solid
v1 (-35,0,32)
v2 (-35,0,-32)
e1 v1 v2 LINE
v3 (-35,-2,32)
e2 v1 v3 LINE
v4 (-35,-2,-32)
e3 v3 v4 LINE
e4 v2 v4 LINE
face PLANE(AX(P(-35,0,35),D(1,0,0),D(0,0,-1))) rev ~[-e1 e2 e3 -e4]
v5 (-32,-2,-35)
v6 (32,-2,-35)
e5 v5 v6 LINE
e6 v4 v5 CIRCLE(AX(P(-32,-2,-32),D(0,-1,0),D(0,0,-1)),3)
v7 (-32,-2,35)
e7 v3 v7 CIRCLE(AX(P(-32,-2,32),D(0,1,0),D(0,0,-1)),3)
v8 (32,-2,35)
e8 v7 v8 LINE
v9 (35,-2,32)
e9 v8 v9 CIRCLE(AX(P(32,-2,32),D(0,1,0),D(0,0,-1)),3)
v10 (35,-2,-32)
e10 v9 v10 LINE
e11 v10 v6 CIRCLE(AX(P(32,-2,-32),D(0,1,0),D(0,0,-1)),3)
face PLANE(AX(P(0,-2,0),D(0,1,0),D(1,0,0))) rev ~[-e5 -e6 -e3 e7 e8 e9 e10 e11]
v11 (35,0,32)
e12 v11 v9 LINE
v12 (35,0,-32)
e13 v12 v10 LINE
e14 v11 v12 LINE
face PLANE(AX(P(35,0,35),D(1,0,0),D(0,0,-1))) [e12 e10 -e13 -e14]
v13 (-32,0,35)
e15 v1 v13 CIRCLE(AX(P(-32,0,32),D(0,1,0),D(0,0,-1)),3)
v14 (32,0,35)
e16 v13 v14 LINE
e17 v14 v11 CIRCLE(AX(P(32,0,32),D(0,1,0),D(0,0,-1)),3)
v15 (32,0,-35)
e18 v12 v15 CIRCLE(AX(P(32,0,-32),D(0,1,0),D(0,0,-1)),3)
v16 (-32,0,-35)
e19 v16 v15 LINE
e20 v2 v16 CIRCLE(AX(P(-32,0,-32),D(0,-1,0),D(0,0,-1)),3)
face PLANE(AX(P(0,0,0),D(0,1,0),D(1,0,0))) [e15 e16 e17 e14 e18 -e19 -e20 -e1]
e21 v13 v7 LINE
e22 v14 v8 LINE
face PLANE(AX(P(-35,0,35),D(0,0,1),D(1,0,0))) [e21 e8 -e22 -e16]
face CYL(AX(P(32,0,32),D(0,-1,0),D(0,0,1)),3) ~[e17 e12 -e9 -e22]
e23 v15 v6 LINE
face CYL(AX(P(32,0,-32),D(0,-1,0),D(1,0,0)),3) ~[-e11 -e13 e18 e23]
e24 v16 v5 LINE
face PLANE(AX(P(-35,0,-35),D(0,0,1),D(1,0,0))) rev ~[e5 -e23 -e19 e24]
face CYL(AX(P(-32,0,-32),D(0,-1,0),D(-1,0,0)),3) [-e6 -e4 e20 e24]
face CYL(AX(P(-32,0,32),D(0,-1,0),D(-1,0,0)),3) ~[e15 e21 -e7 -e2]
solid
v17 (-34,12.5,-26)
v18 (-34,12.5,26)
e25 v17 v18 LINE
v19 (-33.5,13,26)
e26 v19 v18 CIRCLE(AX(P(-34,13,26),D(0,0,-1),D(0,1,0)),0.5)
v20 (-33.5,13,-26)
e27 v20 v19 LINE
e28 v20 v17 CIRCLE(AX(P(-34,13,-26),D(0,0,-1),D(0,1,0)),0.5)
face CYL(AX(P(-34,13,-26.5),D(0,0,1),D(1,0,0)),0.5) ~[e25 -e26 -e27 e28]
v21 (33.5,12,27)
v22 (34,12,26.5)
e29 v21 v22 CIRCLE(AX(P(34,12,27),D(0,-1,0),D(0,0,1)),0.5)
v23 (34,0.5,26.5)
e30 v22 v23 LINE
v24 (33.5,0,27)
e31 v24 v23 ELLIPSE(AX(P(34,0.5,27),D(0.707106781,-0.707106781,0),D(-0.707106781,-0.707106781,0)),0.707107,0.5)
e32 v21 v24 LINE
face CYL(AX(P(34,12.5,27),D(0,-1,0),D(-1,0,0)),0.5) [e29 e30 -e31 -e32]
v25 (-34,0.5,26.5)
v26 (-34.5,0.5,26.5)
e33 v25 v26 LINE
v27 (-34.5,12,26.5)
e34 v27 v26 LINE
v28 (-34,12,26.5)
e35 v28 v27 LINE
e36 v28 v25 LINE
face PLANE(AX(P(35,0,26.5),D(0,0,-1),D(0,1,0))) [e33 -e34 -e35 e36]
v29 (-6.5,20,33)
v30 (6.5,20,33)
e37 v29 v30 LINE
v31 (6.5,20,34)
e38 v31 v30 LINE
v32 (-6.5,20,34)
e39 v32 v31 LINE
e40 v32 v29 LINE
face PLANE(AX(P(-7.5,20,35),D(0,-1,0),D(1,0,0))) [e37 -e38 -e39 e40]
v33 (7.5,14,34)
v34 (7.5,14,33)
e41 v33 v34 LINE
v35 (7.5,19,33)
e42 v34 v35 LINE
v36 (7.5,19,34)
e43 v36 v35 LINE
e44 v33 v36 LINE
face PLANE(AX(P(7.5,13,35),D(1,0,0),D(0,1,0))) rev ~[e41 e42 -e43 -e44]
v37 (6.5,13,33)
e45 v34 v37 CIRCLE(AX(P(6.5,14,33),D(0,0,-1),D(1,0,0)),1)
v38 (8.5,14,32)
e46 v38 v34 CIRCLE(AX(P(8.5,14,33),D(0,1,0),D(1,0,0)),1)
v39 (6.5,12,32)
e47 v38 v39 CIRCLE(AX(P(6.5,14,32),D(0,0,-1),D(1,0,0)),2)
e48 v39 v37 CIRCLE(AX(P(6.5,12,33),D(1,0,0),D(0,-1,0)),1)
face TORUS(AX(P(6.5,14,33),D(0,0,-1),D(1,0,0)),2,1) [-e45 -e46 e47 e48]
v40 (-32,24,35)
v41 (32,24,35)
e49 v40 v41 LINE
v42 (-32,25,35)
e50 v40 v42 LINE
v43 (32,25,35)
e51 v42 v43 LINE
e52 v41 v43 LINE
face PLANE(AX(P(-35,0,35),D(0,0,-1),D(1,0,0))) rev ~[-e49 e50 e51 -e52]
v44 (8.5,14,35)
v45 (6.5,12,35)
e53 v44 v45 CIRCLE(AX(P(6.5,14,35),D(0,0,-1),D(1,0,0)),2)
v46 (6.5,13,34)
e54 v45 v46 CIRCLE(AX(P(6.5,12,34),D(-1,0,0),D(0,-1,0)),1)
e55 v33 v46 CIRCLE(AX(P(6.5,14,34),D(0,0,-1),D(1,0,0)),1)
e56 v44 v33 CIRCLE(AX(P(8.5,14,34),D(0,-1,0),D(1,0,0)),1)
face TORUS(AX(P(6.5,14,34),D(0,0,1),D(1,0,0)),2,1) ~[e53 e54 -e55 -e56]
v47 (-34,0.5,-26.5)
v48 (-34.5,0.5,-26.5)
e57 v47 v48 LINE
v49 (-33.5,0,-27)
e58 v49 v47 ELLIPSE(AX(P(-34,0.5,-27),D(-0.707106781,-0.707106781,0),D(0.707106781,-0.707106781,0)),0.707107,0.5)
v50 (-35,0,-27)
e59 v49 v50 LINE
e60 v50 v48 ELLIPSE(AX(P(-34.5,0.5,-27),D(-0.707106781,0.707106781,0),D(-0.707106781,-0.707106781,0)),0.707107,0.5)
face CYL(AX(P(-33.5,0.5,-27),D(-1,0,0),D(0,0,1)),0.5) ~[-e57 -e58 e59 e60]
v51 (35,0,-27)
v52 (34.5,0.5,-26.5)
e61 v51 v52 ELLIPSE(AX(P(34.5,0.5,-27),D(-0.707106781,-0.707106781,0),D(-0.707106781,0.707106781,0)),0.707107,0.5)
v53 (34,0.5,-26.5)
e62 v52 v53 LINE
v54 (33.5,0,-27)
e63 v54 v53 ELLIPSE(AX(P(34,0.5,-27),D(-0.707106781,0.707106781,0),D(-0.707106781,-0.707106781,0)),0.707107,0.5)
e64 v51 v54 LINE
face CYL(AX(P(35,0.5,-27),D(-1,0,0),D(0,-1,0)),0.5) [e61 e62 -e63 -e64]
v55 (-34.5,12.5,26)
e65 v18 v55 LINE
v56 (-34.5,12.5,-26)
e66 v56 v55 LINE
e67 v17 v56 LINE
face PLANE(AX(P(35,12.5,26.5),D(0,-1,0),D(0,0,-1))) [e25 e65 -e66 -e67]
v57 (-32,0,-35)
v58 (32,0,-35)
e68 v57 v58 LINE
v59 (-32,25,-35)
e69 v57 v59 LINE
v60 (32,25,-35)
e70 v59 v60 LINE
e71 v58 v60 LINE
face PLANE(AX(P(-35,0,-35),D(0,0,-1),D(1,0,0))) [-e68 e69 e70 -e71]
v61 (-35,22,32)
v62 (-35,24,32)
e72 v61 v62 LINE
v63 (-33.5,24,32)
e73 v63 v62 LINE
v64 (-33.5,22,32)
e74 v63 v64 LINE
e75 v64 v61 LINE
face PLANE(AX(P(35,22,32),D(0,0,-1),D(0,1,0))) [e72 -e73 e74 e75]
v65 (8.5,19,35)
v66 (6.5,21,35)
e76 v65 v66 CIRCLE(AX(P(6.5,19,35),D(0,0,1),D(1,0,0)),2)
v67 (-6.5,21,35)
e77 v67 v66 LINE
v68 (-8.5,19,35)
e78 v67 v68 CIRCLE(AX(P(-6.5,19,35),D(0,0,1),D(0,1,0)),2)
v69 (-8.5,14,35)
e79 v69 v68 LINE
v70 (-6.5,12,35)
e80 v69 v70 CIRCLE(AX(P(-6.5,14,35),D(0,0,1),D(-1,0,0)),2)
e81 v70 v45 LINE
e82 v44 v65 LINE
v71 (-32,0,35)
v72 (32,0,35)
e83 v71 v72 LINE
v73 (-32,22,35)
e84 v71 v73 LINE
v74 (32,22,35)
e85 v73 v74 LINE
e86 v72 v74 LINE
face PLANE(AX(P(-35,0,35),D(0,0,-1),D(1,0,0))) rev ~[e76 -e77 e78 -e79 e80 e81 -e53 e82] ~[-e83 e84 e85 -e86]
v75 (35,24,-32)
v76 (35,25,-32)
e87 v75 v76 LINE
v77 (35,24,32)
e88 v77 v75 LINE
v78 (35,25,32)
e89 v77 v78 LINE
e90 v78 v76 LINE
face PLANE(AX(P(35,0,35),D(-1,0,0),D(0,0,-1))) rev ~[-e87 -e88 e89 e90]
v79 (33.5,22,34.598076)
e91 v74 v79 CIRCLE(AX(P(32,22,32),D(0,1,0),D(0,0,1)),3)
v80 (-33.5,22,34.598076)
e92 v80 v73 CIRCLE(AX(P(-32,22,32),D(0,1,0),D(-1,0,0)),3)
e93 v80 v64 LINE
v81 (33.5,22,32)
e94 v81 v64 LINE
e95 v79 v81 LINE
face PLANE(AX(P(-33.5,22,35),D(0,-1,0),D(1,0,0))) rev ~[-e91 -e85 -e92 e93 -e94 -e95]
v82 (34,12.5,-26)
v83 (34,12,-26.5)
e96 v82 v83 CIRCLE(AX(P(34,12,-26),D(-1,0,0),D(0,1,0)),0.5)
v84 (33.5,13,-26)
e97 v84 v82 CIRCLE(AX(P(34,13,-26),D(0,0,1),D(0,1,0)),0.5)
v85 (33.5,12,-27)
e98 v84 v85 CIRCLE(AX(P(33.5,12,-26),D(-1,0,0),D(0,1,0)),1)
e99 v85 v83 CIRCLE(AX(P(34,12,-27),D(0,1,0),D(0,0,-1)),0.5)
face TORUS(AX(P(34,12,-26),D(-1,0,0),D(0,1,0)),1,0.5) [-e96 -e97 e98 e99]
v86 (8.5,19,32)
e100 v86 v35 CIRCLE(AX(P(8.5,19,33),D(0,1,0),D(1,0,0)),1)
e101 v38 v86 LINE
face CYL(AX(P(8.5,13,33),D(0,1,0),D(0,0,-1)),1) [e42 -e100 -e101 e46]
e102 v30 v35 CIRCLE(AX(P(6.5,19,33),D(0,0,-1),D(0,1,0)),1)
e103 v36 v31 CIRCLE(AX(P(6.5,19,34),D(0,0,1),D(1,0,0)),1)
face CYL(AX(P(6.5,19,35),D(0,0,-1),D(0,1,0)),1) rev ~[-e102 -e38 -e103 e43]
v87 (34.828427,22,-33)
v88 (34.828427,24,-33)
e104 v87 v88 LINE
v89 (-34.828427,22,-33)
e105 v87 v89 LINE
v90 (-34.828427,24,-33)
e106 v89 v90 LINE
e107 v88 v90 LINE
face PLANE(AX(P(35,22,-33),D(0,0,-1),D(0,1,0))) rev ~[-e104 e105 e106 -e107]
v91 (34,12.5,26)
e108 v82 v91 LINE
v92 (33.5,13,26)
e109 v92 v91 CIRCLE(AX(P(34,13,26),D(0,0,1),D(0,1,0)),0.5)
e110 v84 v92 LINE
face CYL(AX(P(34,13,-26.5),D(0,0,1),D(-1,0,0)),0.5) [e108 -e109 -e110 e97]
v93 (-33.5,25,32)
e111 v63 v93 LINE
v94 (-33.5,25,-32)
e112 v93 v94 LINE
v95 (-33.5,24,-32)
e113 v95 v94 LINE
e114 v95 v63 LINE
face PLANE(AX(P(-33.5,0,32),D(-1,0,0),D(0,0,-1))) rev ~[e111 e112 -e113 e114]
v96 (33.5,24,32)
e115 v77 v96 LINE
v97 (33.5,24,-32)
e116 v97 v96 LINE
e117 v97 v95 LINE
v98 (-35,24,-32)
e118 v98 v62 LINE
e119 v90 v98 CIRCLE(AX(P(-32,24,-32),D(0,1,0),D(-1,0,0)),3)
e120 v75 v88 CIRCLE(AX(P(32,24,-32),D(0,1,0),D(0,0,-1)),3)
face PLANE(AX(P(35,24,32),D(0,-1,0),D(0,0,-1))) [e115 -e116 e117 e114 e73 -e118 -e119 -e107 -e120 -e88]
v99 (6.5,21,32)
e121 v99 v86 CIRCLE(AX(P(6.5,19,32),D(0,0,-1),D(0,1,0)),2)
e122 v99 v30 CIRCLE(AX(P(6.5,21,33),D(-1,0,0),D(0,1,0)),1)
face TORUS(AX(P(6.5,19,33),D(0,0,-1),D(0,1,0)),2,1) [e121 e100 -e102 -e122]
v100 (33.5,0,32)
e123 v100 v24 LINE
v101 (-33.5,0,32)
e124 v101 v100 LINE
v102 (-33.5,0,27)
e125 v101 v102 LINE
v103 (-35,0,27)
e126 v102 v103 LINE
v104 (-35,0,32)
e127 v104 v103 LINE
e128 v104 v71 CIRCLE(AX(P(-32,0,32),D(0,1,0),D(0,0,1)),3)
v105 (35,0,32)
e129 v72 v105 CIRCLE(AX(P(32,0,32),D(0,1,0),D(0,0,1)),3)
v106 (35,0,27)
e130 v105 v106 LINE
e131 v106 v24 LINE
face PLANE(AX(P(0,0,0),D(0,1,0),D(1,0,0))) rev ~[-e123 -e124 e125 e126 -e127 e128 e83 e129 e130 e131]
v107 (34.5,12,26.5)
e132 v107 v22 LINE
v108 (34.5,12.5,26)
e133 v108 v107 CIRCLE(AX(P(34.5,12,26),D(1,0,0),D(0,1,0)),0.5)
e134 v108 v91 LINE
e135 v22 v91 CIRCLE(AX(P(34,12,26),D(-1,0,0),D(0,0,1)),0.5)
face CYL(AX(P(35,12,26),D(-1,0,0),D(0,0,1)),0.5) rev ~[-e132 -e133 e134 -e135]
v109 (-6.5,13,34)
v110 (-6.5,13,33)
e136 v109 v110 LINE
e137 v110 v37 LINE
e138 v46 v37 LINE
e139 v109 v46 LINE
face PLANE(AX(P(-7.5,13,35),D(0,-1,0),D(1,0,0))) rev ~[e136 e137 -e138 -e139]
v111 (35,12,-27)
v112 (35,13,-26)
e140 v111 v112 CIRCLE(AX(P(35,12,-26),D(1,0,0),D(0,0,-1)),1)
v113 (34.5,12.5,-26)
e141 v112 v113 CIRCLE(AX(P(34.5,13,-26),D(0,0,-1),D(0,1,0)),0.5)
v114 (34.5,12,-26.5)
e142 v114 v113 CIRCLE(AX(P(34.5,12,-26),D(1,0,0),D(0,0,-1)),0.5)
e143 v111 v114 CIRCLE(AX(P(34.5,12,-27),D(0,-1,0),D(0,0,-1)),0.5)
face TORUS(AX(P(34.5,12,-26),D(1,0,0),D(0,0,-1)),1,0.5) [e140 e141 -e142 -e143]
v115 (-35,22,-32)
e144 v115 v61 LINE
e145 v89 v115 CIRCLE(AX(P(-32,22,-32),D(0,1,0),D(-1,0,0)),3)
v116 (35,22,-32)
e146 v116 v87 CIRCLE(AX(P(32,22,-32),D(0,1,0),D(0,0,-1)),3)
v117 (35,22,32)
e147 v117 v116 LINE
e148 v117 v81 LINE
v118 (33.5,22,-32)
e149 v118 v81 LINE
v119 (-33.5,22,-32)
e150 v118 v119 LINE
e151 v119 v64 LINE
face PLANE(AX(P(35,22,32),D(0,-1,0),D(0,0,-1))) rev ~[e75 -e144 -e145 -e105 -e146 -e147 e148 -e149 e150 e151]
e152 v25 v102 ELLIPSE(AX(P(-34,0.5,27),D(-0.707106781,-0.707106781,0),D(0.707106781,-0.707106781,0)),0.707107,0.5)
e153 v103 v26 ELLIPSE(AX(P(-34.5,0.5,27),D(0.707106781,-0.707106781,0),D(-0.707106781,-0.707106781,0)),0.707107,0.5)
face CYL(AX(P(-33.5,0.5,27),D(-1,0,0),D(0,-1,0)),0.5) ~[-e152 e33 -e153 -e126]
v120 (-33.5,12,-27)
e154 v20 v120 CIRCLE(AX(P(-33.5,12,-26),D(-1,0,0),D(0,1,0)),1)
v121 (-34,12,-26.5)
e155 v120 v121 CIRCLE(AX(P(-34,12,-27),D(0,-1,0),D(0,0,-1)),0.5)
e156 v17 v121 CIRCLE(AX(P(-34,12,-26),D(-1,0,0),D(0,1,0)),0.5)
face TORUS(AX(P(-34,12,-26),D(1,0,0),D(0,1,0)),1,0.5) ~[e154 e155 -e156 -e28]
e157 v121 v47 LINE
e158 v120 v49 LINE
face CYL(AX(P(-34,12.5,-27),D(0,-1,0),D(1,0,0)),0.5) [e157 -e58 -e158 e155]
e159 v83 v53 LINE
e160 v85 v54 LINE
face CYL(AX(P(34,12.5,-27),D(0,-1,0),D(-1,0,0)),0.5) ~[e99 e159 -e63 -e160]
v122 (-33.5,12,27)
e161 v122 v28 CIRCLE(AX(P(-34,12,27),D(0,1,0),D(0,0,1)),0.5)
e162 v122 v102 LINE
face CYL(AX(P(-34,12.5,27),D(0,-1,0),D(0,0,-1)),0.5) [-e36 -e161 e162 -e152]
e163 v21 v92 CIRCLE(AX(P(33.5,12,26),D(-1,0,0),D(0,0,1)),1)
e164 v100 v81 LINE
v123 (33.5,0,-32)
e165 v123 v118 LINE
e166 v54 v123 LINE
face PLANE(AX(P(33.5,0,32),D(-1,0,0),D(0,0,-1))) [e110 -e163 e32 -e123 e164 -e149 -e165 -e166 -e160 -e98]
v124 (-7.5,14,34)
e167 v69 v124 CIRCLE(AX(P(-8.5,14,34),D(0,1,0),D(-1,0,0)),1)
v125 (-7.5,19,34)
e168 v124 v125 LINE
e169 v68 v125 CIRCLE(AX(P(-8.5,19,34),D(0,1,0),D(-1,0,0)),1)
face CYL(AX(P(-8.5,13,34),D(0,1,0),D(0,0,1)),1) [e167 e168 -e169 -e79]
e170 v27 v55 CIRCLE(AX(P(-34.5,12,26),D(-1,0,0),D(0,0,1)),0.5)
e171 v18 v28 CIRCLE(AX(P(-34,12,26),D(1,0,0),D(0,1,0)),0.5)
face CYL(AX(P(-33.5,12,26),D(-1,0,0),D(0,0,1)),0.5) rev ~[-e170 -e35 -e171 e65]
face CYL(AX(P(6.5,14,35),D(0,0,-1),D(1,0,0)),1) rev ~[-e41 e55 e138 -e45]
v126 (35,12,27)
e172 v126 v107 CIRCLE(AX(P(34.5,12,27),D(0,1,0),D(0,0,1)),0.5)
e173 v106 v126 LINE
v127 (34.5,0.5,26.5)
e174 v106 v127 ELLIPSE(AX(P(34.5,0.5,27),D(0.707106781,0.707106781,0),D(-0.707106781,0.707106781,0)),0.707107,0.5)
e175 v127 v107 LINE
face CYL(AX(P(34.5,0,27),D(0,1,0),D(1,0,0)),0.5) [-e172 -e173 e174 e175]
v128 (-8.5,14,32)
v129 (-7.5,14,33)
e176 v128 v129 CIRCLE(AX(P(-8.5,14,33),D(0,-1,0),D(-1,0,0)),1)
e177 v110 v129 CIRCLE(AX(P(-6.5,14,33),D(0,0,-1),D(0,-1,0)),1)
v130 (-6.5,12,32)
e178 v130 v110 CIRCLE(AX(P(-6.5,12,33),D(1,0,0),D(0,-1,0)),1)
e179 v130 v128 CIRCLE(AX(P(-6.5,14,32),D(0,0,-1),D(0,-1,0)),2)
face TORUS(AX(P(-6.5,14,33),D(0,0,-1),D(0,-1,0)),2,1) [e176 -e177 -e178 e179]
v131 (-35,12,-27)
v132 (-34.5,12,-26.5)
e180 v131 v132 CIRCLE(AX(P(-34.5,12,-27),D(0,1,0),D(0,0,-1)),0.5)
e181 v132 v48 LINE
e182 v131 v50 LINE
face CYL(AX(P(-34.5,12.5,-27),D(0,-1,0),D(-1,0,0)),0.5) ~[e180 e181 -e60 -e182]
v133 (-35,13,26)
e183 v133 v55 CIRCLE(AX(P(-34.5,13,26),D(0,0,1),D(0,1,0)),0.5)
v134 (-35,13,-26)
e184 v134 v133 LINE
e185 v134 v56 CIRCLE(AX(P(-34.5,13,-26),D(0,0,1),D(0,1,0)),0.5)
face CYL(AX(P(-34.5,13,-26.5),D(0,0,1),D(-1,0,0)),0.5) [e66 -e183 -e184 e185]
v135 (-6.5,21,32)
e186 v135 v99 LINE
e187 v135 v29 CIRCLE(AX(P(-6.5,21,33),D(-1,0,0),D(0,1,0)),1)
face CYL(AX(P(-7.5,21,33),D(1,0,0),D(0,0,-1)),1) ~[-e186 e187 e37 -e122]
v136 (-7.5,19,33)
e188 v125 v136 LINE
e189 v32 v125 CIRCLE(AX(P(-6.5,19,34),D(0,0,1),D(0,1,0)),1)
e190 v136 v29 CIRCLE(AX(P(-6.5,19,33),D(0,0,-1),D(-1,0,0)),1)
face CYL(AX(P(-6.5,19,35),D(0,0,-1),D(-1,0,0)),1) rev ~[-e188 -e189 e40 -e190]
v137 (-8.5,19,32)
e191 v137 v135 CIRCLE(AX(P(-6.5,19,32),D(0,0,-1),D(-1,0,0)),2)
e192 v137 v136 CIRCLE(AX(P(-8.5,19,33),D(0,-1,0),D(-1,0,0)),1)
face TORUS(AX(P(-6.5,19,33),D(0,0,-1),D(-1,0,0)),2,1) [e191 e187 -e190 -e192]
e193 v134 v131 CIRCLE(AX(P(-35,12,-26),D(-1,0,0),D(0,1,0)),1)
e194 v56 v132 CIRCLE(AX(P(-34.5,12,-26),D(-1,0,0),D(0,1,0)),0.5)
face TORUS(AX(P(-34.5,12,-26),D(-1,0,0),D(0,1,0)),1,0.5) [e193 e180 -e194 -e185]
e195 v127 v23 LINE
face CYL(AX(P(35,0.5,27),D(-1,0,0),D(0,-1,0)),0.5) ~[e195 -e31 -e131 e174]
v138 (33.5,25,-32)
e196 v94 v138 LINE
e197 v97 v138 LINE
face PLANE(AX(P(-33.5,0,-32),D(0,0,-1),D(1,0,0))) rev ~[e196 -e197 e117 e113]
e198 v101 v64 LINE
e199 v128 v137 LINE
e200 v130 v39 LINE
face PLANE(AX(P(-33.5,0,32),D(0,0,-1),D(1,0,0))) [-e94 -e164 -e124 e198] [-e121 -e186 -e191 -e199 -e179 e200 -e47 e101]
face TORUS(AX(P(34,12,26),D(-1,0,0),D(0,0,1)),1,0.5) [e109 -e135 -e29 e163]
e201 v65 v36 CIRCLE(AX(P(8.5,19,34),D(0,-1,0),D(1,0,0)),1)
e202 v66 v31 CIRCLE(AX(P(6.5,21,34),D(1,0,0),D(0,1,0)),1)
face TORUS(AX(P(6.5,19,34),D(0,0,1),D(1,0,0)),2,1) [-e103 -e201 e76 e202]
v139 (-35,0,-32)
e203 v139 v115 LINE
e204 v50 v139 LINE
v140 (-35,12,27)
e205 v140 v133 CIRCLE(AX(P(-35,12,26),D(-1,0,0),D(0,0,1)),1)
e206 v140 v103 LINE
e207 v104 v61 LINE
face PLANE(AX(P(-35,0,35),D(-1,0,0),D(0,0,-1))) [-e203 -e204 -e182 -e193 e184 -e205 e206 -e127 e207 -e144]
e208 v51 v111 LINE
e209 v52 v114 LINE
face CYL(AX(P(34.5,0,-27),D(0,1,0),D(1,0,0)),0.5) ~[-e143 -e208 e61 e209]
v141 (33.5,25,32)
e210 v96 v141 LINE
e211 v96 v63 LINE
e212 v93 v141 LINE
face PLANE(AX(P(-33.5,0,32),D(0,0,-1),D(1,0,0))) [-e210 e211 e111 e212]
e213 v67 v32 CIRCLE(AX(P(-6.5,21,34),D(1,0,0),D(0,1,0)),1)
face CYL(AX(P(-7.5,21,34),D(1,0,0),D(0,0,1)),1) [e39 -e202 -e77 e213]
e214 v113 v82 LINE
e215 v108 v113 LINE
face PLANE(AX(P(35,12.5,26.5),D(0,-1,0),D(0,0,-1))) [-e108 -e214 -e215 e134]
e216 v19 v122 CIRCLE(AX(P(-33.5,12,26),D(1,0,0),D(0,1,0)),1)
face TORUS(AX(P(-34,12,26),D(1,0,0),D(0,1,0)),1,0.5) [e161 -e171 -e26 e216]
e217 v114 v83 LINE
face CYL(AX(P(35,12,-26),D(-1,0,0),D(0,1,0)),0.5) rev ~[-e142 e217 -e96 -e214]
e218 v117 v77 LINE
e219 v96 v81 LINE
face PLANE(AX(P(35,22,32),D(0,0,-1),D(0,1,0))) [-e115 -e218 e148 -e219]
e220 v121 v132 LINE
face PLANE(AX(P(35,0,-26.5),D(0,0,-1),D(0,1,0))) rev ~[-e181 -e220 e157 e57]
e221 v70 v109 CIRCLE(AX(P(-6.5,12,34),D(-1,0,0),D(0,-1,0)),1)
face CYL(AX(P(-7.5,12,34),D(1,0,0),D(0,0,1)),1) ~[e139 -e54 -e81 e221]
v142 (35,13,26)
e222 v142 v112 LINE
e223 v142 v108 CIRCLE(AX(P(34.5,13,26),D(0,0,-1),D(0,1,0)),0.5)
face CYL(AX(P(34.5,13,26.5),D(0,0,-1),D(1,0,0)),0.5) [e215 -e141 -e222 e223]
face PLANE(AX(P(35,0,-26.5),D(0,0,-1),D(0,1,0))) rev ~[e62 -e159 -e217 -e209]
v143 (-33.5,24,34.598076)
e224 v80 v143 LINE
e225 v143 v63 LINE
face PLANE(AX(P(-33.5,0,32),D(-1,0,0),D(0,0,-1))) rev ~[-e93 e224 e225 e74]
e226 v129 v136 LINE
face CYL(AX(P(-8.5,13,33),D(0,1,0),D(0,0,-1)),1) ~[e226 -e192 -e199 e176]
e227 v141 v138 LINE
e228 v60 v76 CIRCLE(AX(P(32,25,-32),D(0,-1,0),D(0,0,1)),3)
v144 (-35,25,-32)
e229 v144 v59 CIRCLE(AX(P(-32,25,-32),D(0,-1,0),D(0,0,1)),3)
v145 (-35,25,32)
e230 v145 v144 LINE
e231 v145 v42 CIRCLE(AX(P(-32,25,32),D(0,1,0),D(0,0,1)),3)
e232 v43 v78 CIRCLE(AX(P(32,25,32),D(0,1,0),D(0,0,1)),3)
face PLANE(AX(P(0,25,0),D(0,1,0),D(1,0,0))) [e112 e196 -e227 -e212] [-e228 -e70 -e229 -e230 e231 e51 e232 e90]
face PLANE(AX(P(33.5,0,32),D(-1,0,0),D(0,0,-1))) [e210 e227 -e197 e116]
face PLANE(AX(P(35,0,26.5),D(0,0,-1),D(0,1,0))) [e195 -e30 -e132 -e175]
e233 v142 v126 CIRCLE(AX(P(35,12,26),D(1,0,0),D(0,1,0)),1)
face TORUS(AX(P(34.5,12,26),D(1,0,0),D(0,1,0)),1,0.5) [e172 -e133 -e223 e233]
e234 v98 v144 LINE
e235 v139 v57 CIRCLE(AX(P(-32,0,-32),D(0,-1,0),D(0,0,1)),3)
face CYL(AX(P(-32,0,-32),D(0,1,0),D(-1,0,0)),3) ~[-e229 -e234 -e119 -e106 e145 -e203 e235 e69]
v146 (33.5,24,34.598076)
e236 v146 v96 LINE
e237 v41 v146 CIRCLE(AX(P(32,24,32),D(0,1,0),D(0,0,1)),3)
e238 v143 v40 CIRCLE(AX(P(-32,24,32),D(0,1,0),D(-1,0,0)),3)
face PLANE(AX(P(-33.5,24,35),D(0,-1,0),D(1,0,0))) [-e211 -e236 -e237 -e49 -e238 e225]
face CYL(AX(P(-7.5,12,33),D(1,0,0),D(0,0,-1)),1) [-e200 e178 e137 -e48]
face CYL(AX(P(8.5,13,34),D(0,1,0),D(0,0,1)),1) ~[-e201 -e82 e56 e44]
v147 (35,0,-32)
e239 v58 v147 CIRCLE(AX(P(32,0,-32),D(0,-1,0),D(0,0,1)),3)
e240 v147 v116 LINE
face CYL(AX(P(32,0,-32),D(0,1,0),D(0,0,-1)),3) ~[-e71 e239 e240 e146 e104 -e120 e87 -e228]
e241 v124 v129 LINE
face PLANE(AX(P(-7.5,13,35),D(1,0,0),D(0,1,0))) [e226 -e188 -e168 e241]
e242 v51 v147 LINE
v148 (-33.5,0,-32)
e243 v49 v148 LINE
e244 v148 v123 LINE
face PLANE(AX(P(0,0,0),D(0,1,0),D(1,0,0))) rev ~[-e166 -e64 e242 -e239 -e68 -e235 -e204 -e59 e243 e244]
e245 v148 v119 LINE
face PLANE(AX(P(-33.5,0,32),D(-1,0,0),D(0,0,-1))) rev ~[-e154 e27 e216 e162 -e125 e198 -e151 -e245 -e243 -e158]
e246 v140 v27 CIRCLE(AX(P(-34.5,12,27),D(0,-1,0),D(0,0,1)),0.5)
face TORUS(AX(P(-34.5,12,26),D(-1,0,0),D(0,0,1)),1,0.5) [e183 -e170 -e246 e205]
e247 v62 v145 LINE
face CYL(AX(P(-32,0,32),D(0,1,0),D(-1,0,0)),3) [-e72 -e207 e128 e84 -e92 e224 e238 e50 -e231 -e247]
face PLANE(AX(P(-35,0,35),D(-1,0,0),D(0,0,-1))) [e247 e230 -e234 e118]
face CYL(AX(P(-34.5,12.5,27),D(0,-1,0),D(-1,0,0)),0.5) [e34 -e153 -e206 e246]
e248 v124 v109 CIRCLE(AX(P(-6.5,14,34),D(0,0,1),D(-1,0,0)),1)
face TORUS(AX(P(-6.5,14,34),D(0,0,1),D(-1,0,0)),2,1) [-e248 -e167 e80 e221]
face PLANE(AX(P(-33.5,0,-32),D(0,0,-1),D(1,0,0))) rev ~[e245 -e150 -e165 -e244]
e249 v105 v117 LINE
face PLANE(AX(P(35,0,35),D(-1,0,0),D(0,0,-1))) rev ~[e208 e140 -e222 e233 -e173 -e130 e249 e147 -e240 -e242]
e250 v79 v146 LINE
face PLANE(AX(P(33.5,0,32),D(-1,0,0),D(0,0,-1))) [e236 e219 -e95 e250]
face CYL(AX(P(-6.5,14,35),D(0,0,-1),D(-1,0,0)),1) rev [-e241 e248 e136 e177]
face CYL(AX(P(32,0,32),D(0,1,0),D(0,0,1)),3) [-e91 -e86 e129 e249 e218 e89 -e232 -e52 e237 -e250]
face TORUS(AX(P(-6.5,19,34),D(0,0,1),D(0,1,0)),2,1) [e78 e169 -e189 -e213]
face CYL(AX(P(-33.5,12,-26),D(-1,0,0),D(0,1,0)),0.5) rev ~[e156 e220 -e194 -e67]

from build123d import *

# Parameters (mm, degrees)
CROQUIS1_W              = 70
CROQUIS1_H              = 70
CROQUIS1_W_2            = 67
CROQUIS1_H_2            = 64
SALIENTE_EXTRUIR2_DEPTH = 25
CROQUIS3_W              = 70
CROQUIS3_H              = 70
SALIENTE_EXTRUIR3_DEPTH = 2
CROQUIS4_W              = 53
CROQUIS4_H              = 12.5
CORTAR_EXTRUIR1_DEPTH   = 71
CROQUIS5_W              = 15
CROQUIS5_H              = 7
CORTAR_EXTRUIR2_DEPTH   = 3
REDONDEO2_R             = 3
REDONDEO4_R             = 1
CROQUIS6_W              = 67
CROQUIS6_H              = 2
CORTAR_EXTRUIR3_DEPTH   = 68
REDONDEO6_R             = 0.5
REDONDEO7_R             = 3
CROQUIS7_W              = 65
CROQUIS7_H              = 2
CORTAR_EXTRUIR4_DEPTH   = 71


with BuildPart() as part:
    # Croquis1 → Saliente-Extruir2 (new body)
    with BuildSketch(Plane(origin=(0, 0, 0), x_dir=(1, 0, 0), z_dir=(0, 1, 0))):
        Rectangle(CROQUIS1_W, CROQUIS1_H)
        Rectangle(CROQUIS1_W_2, CROQUIS1_H_2, mode=Mode.SUBTRACT)
    extrude(amount=SALIENTE_EXTRUIR2_DEPTH)

    # Croquis4 → Cortar-Extruir1 (cut, through all)
    with BuildSketch(Plane(origin=(35, 0, 0), x_dir=(0, 0, -1), z_dir=(1, 0, 0))):
        with Locations((0, 6.25)):
            Rectangle(CROQUIS4_W, CROQUIS4_H)
    extrude(amount=-CORTAR_EXTRUIR1_DEPTH, mode=Mode.SUBTRACT)

    # Croquis5 → Cortar-Extruir2 (cut)
    with BuildSketch(Plane.XY.offset(35)):
        with Locations((0, 16.5)):
            Rectangle(CROQUIS5_W, CROQUIS5_H)
    extrude(amount=-CORTAR_EXTRUIR2_DEPTH, mode=Mode.SUBTRACT)

    # Redondeo2
    redondeo2_edges = [part.edges().sort_by_distance(p)[0] for p in [
        (35, 12.5, 35),
        (-35, 12.5, 35),
        (-35, 12.5, -35),
        (35, 12.5, -35),
    ]]
    fillet(redondeo2_edges, radius=REDONDEO2_R)

    # Redondeo4
    redondeo4_edges = [part.edges().sort_by_distance(p)[0] for p in [
        (7.5, 16.5, 35),
        (0, 20, 35),
        (-7.5, 16.5, 35),
        (0, 13, 35),
        (0, 20, 32),
        (-7.5, 20, 33.5),
        (-7.5, 16.5, 32),
        (-7.5, 13, 33.5),
        (0, 13, 32),
        (7.5, 13, 33.5),
        (7.5, 16.5, 32),
        (7.5, 20, 33.5),
    ]]
    fillet(redondeo4_edges, radius=REDONDEO4_R)

    # Croquis6 → Cortar-Extruir3 (cut)
    with BuildSketch(Plane.XY.offset(35)):
        with Locations((0, 23)):
            Rectangle(CROQUIS6_W, CROQUIS6_H)
    extrude(amount=-CORTAR_EXTRUIR3_DEPTH, mode=Mode.SUBTRACT)

    # Redondeo6
    redondeo6_edges = [part.edges().sort_by_distance(p)[0] for p in [
        (-33.5, 12.5, 0),
        (-33.5, 6.25, 26.5),
        (-33.5, 6.25, -26.5),
        (33.5, 6.25, -26.5),
        (34.25, 12.5, -26.5),
        (34.25, 0, -26.5),
        (33.5, 6.25, 26.5),
        (34.25, 0, 26.5),
        (33.5, 12.5, 0),
        (34.25, 12.5, 26.5),
        (-35, 6.25, -26.5),
        (-34.25, 12.5, -26.5),
        (-34.25, 0, -26.5),
        (-35, 6.25, 26.5),
        (-34.25, 0, 26.5),
        (-35, 12.5, 0),
        (-34.25, 12.5, 26.5),
        (35, 6.25, -26.5),
        (35, 12.5, 0),
        (35, 6.25, 26.5),
    ]]
    fillet(redondeo6_edges, radius=REDONDEO6_R)

    # Croquis7 → Cortar-Extruir4 (cut, through all)
    with BuildSketch(Plane(origin=(35, 0, 0), x_dir=(0, 0, -1), z_dir=(1, 0, 0))):
        with Locations((0.5, 23)):
            Rectangle(CROQUIS7_W, CROQUIS7_H)
    extrude(amount=-CORTAR_EXTRUIR4_DEPTH, mode=Mode.SUBTRACT)


with BuildPart() as body_2:
    # Croquis3 → Saliente-Extruir3 (new body)
    with BuildSketch(Plane(origin=(0, 0, 0), x_dir=(1, 0, 0), z_dir=(0, 1, 0))):
        Rectangle(CROQUIS3_W, CROQUIS3_H)
    extrude(amount=-SALIENTE_EXTRUIR3_DEPTH)

    # Redondeo7
    redondeo7_edges = [body_2.edges().sort_by_distance(p)[0] for p in [
        (35, -1, 35),
        (-35, -1, 35),
        (-35, -1, -35),
        (35, -1, -35),
    ]]
    fillet(redondeo7_edges, radius=REDONDEO7_R)


solid = Compound([part.part, body_2.part])
